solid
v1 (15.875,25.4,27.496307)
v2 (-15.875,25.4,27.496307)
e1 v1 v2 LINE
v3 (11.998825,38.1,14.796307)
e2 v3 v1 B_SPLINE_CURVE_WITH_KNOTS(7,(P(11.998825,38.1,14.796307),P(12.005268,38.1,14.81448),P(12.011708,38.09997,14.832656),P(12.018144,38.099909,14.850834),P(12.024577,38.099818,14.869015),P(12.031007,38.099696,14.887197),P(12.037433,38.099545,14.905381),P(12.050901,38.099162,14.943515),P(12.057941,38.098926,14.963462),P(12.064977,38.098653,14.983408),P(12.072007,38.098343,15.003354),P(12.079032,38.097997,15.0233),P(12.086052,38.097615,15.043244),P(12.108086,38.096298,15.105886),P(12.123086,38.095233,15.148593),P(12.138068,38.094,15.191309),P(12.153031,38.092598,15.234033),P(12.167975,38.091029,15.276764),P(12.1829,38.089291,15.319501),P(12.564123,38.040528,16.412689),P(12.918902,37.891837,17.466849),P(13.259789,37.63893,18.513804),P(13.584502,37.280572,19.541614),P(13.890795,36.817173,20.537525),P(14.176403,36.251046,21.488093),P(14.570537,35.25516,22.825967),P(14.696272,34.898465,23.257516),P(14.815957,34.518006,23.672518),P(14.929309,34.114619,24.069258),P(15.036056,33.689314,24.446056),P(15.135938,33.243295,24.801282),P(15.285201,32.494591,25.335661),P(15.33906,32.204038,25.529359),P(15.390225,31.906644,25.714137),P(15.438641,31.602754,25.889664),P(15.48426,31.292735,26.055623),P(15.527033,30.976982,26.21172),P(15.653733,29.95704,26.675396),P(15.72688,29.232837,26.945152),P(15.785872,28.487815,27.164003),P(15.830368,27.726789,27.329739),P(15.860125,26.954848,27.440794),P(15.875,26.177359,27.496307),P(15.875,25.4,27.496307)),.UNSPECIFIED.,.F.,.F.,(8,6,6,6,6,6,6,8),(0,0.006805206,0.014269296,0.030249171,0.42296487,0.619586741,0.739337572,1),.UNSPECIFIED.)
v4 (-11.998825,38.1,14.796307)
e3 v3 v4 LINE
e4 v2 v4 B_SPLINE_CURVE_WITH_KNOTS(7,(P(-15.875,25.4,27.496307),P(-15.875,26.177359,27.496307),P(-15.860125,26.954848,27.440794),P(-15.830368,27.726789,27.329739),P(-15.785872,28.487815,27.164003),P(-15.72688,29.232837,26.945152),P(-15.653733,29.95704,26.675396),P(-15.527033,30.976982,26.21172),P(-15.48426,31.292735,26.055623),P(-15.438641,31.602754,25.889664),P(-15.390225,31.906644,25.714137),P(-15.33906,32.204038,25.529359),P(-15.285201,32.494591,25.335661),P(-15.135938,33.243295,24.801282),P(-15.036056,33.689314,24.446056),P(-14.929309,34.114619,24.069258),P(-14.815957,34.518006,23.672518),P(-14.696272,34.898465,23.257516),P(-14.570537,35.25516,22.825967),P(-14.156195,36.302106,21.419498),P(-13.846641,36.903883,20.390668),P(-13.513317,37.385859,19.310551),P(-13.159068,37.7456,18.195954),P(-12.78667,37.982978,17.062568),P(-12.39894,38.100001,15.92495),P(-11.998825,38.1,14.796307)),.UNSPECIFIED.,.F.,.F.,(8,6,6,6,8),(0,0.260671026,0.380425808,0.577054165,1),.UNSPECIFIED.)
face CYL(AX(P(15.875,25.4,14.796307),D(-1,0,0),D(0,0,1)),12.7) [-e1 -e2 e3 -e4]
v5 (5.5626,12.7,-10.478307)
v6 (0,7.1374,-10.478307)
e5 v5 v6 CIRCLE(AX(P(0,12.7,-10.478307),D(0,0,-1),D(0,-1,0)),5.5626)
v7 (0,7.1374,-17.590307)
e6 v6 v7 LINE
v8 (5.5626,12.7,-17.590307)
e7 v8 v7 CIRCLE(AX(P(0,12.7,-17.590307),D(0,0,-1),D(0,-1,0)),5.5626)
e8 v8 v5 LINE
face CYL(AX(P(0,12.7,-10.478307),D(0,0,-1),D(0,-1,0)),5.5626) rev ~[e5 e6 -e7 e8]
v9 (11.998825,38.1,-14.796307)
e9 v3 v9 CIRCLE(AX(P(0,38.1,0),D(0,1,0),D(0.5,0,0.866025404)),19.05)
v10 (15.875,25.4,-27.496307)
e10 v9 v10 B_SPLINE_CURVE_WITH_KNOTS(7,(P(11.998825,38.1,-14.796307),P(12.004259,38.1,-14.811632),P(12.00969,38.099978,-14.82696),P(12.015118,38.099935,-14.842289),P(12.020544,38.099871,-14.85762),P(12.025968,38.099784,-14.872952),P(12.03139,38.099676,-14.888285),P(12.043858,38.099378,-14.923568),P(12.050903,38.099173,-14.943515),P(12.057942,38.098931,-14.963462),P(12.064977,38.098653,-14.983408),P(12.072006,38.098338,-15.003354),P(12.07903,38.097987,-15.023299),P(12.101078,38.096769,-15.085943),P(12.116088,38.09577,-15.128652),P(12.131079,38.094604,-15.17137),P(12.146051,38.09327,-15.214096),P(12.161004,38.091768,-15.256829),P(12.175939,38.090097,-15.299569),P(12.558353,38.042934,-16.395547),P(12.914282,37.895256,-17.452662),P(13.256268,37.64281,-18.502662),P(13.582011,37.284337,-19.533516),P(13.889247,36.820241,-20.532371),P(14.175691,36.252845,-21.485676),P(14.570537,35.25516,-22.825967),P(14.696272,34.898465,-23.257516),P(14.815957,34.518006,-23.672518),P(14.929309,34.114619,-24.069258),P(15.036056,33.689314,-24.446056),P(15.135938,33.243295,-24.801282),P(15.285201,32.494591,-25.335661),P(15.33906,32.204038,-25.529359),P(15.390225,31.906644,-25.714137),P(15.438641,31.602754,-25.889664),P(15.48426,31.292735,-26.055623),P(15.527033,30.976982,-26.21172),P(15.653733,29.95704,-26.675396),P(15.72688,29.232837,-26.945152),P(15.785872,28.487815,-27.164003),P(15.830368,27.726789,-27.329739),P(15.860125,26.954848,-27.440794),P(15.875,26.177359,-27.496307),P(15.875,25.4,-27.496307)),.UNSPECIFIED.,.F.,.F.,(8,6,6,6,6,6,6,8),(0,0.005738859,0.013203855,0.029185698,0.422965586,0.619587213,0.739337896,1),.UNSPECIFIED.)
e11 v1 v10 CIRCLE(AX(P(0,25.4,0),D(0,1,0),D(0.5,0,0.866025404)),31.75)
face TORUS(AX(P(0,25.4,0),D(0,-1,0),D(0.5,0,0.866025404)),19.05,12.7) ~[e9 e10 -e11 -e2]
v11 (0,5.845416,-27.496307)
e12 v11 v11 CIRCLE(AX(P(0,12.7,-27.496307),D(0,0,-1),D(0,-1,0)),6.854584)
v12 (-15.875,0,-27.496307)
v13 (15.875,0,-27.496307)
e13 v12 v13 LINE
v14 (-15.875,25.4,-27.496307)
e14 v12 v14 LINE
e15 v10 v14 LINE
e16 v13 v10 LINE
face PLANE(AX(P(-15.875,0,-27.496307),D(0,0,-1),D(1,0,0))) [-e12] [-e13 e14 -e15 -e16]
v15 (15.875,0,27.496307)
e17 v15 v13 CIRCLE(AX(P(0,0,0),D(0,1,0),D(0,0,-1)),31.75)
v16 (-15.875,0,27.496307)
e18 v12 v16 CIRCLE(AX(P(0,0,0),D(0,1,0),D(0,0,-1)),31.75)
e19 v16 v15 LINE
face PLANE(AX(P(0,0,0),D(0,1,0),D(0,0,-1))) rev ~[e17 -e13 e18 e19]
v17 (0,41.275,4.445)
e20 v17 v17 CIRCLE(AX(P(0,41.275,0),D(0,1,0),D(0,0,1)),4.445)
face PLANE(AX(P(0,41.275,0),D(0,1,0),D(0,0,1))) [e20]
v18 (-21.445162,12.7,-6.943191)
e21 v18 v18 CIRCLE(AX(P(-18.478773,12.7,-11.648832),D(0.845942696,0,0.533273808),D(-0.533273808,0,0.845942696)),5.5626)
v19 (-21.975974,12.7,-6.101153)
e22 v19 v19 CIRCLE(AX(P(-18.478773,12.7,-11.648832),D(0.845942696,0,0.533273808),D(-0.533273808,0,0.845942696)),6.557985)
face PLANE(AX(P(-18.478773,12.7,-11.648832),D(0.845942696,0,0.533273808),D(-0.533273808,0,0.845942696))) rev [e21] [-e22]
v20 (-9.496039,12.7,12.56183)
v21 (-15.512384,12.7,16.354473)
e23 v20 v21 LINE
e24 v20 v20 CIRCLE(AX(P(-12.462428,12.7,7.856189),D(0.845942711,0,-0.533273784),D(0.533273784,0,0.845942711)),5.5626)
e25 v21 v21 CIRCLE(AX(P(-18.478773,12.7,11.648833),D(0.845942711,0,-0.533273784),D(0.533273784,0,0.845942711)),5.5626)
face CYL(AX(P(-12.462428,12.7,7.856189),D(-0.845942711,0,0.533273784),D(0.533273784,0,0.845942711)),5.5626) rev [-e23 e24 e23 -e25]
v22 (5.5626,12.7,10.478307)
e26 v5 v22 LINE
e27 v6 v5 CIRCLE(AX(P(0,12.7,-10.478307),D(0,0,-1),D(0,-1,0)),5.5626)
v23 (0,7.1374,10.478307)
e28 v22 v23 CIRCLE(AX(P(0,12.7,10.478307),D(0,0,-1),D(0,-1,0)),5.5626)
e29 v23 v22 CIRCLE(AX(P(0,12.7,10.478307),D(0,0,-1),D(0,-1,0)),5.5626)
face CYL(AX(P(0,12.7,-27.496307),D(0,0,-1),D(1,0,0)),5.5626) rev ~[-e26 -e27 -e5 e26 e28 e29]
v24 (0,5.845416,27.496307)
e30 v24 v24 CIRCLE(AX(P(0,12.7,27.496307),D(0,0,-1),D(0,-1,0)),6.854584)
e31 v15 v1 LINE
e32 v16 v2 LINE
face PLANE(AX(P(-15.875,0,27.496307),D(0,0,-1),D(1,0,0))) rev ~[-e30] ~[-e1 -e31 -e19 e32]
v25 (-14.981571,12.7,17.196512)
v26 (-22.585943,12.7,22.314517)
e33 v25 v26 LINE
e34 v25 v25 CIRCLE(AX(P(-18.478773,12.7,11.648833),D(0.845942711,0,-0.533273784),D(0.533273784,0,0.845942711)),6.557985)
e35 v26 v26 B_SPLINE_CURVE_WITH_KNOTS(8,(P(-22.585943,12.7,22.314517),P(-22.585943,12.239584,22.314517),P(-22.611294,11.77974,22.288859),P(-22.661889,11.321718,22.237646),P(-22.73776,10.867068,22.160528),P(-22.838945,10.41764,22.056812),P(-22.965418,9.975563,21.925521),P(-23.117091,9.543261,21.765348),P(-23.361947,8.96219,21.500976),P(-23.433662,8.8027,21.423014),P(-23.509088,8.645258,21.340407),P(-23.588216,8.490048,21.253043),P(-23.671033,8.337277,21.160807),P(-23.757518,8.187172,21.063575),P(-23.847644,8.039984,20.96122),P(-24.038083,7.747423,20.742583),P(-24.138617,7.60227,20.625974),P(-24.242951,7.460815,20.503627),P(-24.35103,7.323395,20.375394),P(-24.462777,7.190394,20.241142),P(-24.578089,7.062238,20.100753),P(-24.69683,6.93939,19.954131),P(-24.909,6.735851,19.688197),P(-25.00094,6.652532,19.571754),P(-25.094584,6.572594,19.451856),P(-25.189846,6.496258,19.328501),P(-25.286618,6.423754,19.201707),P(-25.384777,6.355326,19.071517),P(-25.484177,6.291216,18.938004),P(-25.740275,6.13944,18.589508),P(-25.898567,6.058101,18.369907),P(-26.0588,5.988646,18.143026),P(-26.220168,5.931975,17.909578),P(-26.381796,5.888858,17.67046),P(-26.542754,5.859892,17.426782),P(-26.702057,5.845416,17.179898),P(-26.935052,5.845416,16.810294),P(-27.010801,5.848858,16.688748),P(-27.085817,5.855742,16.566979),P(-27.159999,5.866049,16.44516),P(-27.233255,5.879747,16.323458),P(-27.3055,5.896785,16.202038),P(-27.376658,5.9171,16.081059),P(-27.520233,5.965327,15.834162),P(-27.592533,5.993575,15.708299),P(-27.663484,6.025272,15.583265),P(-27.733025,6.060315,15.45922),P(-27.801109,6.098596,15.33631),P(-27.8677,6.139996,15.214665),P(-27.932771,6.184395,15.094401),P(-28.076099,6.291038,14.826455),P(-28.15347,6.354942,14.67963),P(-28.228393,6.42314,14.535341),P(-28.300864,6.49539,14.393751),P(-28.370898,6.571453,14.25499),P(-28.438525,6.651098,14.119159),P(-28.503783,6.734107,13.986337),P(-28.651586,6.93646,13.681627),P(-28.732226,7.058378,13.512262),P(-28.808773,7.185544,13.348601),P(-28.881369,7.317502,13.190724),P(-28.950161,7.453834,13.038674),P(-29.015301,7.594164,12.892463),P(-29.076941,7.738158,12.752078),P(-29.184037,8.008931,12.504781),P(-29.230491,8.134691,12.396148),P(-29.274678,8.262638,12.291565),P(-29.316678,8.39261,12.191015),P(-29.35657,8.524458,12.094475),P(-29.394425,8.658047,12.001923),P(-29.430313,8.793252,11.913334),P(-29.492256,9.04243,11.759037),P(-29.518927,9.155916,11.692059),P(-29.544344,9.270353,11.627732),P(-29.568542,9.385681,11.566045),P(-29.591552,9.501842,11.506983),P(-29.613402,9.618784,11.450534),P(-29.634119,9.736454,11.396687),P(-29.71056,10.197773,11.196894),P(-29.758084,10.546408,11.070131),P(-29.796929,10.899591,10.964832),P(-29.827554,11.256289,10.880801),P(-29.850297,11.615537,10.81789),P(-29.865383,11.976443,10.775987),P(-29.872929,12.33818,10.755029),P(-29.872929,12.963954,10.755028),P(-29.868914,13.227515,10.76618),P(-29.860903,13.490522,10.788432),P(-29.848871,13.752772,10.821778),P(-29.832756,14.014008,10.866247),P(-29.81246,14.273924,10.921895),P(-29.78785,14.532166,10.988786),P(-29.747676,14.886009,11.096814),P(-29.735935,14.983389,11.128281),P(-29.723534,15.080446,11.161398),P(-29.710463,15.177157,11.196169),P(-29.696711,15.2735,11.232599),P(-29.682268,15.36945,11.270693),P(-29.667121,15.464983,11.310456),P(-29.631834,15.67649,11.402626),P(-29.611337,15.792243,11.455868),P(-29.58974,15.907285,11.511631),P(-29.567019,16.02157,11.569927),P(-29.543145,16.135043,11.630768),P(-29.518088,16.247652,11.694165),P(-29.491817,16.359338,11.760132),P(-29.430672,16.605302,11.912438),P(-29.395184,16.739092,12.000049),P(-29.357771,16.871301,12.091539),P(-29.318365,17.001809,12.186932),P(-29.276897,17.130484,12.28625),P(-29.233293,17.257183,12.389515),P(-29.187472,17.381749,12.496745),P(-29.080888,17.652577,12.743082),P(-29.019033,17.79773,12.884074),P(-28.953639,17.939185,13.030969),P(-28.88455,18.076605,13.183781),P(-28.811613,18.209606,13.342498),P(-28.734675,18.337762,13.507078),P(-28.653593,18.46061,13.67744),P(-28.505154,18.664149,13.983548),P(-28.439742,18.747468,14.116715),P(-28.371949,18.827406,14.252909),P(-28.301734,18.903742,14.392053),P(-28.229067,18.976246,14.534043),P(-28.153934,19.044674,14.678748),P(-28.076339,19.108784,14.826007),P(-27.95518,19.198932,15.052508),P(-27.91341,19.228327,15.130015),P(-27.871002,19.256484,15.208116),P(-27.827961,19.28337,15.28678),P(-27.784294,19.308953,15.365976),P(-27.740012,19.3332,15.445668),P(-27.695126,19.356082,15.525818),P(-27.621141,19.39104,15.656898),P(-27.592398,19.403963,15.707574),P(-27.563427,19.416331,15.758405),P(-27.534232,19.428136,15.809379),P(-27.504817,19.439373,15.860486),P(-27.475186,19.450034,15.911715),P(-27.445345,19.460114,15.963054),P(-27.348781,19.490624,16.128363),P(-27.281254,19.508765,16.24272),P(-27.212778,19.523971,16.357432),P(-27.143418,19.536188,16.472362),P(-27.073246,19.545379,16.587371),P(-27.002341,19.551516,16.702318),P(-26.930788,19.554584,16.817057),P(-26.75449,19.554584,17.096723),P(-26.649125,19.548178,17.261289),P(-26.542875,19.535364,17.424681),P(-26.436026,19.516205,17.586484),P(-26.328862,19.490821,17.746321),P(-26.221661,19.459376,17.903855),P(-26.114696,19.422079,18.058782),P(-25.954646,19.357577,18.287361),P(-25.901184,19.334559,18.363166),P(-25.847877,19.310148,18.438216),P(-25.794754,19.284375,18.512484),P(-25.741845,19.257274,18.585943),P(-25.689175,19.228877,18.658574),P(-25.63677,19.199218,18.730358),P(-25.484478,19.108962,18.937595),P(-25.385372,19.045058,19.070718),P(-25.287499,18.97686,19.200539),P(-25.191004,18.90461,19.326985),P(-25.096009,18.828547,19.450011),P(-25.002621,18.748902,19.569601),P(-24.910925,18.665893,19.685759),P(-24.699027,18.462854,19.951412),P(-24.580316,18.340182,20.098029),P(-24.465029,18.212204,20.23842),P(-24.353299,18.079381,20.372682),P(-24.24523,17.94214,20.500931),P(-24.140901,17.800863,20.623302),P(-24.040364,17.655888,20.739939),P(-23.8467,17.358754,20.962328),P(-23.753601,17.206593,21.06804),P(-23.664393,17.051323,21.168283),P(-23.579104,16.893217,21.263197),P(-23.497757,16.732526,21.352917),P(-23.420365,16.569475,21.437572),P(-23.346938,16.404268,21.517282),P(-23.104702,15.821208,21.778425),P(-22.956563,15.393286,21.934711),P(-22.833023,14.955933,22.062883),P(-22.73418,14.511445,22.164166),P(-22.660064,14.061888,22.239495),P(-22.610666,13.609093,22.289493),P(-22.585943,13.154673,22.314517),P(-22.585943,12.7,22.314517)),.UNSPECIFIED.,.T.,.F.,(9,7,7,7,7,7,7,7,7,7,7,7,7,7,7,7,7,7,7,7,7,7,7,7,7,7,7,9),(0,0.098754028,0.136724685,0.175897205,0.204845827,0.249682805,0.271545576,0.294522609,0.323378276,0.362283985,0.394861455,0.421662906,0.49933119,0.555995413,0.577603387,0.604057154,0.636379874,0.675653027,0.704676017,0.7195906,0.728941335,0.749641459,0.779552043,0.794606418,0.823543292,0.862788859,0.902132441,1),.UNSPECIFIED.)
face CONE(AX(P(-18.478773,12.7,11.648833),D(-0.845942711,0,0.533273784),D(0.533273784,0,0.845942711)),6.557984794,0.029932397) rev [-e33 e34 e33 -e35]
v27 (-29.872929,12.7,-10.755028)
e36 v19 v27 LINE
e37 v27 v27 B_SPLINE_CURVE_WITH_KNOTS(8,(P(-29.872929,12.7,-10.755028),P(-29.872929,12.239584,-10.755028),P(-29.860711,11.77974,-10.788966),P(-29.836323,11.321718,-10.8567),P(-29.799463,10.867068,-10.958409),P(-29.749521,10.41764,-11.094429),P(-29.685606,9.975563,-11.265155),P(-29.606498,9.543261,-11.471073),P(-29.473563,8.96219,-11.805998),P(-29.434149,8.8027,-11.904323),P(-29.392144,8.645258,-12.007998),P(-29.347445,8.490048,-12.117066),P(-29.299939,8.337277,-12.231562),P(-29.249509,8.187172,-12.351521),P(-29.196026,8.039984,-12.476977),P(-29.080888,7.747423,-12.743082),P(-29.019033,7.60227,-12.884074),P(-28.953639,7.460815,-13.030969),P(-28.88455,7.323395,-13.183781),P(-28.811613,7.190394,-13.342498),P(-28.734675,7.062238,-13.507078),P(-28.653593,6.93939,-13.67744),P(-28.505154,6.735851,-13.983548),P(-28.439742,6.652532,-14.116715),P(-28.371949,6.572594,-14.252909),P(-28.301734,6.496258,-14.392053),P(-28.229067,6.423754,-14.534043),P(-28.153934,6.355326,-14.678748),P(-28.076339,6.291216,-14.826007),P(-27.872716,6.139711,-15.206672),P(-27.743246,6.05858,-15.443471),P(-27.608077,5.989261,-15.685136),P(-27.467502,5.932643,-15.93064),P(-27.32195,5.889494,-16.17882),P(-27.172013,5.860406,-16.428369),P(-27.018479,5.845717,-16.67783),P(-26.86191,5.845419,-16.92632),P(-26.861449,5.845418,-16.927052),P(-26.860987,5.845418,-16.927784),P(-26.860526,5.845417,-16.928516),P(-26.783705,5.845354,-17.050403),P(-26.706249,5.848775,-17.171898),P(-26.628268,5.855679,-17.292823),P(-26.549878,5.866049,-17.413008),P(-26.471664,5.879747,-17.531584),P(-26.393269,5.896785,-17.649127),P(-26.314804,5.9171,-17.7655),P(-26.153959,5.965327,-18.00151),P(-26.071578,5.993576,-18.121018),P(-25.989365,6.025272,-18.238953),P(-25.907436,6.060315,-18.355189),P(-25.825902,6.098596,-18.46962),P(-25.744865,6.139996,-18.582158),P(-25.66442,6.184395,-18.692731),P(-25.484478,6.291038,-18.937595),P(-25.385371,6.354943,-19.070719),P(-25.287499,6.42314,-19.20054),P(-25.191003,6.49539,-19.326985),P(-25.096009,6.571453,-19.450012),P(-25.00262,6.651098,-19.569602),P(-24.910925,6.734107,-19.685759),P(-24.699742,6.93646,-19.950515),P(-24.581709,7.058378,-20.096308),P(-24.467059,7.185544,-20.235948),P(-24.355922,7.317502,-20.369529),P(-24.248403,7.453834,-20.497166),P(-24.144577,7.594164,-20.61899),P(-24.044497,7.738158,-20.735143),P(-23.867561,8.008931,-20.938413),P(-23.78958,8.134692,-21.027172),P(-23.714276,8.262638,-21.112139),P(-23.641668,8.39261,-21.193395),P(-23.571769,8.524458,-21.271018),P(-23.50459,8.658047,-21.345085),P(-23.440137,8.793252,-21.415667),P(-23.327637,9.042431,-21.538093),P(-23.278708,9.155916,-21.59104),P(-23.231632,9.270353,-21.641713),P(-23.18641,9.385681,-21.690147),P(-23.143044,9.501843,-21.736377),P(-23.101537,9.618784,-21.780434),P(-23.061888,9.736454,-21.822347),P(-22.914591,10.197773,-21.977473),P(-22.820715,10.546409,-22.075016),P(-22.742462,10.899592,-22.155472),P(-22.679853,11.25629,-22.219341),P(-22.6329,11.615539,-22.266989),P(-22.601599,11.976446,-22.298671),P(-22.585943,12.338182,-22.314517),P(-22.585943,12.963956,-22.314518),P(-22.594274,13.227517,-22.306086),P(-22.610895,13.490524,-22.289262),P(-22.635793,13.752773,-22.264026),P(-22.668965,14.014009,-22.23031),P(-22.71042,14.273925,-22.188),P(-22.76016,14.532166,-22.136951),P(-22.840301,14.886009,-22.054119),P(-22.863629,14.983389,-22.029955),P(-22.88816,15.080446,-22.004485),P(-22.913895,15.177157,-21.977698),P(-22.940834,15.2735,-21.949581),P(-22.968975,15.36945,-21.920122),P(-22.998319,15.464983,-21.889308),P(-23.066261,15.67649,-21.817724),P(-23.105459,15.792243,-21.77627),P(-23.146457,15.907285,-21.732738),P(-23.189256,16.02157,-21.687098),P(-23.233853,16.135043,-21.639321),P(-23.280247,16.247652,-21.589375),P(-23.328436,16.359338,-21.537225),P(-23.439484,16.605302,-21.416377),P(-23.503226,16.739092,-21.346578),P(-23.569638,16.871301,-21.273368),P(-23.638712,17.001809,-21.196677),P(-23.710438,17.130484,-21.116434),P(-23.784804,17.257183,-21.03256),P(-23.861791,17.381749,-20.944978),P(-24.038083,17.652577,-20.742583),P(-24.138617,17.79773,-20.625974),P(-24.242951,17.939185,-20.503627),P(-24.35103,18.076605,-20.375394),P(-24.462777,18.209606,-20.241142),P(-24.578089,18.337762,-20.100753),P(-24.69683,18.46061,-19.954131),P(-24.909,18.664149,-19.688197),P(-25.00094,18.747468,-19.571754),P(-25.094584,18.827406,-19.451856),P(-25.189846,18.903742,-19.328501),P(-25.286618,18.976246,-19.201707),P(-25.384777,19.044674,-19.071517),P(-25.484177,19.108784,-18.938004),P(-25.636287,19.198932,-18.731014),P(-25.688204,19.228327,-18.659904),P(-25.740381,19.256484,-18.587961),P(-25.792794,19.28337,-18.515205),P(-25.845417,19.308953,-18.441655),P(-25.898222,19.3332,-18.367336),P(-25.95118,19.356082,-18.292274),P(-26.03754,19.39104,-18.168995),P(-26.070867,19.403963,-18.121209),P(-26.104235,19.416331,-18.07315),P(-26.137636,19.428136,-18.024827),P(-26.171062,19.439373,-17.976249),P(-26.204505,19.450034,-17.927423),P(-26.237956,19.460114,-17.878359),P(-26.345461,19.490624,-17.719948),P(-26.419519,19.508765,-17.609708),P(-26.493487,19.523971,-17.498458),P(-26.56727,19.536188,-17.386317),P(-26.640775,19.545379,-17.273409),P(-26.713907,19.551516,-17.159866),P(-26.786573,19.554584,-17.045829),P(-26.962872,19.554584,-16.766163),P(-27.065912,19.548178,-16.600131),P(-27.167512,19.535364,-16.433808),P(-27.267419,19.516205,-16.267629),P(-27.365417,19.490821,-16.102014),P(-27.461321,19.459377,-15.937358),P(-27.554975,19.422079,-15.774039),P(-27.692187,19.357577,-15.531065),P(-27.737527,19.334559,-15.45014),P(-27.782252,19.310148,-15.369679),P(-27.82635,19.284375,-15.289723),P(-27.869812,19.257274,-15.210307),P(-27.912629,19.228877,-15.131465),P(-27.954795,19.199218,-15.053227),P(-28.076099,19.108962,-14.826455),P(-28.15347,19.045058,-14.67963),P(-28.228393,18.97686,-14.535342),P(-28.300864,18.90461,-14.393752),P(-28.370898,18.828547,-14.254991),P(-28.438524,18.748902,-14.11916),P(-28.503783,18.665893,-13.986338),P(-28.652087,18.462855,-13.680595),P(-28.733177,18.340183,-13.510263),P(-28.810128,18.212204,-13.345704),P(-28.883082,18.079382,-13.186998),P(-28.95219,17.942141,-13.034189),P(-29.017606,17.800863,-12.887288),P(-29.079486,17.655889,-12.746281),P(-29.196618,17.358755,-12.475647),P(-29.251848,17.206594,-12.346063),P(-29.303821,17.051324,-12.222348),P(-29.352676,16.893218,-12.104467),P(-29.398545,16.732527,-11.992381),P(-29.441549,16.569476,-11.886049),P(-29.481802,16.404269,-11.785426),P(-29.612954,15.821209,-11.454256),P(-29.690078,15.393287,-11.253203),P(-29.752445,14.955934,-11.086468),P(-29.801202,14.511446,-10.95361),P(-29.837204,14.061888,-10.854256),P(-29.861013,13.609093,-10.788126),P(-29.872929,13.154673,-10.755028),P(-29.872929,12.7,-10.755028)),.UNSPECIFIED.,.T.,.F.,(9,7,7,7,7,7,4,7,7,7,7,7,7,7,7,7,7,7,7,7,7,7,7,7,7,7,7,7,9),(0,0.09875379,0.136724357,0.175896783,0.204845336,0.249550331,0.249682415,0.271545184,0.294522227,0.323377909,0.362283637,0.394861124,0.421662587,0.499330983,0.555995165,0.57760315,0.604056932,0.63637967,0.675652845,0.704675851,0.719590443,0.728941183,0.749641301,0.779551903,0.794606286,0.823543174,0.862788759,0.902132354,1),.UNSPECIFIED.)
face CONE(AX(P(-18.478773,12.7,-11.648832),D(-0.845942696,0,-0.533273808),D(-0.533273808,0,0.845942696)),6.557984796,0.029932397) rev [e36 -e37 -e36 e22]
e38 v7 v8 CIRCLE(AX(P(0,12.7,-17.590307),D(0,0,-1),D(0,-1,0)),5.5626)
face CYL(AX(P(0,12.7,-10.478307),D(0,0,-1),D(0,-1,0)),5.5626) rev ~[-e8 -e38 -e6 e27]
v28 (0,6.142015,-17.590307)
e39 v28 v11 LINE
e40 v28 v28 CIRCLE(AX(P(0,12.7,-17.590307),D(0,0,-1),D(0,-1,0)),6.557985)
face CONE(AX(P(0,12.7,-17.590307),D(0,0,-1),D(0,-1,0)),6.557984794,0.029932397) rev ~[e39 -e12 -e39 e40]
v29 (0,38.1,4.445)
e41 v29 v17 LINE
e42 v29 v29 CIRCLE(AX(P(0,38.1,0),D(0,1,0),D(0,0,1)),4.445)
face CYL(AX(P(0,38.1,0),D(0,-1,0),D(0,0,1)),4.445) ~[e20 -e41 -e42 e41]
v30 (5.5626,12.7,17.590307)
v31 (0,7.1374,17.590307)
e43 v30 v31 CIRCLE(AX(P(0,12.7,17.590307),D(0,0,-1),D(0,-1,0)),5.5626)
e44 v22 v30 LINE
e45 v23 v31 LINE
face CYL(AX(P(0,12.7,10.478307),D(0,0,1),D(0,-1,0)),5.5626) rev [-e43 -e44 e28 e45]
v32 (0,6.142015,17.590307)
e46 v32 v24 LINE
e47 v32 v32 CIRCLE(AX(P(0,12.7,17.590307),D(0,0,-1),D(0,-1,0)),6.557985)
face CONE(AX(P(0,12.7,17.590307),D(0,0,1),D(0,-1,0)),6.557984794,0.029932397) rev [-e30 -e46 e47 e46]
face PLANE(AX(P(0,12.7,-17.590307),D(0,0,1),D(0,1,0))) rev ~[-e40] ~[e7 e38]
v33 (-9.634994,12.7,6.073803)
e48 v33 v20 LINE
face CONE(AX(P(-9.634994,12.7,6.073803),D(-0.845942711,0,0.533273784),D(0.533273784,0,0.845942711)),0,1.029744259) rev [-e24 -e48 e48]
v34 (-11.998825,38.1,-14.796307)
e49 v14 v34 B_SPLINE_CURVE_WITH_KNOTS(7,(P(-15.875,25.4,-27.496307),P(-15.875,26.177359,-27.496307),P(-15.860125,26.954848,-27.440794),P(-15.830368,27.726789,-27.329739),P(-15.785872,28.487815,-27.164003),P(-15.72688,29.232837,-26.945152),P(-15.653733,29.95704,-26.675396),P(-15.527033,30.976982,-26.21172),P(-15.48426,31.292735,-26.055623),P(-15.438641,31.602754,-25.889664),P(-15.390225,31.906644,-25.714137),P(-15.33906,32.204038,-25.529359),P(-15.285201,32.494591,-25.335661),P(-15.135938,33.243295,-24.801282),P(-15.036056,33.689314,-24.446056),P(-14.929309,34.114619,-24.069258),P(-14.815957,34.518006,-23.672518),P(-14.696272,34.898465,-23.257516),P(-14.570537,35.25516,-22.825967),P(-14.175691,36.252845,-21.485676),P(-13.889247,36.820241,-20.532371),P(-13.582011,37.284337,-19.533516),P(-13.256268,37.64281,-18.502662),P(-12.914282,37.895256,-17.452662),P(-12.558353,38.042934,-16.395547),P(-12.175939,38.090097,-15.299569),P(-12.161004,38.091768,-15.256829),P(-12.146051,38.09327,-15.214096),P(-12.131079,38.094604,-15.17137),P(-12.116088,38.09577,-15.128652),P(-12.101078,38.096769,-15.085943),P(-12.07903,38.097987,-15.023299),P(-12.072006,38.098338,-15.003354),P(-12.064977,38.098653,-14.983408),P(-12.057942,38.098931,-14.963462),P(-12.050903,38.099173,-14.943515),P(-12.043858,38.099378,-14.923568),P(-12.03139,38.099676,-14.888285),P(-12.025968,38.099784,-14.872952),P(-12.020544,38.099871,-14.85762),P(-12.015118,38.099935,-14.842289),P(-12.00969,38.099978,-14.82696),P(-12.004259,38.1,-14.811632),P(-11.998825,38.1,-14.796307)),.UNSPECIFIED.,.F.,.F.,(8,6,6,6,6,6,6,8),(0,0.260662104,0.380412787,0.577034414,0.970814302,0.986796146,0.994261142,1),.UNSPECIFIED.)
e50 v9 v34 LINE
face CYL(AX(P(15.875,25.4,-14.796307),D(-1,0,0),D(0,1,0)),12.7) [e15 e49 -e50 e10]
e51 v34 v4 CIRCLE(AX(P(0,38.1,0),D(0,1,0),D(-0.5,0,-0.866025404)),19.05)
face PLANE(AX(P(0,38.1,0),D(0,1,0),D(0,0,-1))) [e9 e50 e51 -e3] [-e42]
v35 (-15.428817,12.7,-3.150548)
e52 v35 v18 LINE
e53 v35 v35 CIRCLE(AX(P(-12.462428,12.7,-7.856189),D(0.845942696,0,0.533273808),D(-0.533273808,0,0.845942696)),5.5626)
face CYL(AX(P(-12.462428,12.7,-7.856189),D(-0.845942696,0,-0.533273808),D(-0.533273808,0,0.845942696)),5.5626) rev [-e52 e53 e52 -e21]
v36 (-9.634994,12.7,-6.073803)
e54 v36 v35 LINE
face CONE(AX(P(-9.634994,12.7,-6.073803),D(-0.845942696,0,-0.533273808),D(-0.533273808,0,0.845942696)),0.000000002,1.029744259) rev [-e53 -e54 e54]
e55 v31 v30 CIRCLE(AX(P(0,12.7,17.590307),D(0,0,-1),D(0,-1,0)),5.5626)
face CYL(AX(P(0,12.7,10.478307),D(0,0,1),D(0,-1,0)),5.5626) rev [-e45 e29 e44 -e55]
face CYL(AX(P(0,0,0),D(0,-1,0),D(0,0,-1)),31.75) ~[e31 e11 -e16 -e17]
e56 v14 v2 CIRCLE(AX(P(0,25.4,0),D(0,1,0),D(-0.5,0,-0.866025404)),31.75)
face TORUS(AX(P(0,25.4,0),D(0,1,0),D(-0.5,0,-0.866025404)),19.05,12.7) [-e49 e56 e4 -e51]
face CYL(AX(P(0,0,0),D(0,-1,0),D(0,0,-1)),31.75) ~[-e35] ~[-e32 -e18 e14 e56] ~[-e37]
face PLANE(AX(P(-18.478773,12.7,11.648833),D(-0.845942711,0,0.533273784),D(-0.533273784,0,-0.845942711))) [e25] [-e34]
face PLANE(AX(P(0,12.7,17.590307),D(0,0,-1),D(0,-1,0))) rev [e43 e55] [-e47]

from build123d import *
from build123d.topology import SkipClean

# Parameters (mm, degrees)
SKETCH1_R           = 31.75
BOSS_EXTRUDE1_DEPTH = 38.1
CUT_EXTRUDE1_DEPTH  = 59.887477446
FILLET1_R           = 12.7
SKETCH7_R           = 5.5626
CUT_EXTRUDE2_DEPTH  = 75.053089233
SKETCH8_R           = 4.445
BOSS_EXTRUDE2_DEPTH = 3.175


with BuildPart() as part:
    # Sketch1 → Boss-Extrude1 (new body)
    with BuildSketch(Plane(origin=(0, 0, 0), x_dir=(1, 0, 0), z_dir=(0, 1, 0))):
        with Locations(Location((0, 0, 0), (0, 0, 90))):
            Circle(SKETCH1_R)
    extrude(amount=BOSS_EXTRUDE1_DEPTH)

    # Sketch2 → Cut-Extrude1 (cut, through all)
    with BuildSketch(Plane.XZ):
        with BuildLine():
            Line((-15.875, 27.49630657), (15.875, 27.49630657))
            ThreePointArc((15.875, 27.49630657), (0, 31.75), (-15.875, 27.49630657))
        make_face()
        with BuildLine():
            Line((-15.875, -27.49630657), (15.875, -27.49630657))
            ThreePointArc((15.875, -27.49630657), (0, -31.75), (-15.875, -27.49630657))
        make_face()
    extrude(amount=-CUT_EXTRUDE1_DEPTH, mode=Mode.SUBTRACT)

    # Fillet1
    fillet1_edges = [part.edges().sort_by_distance(p)[0] for p in [
        (-31.75, 38.1, 0),
        (0, 38.1, -27.49630657),
        (31.75, 38.1, 0),
        (0, 38.1, 27.49630657),
    ]]
    fillet(fillet1_edges, radius=FILLET1_R)

    # Sketch4 → 1/4 NPT Tapped Hole1 (revolve, cut)
    with BuildSketch(Plane(origin=(0, 12.7, 27.49630657), x_dir=(0, -1, 0), z_dir=(1, 0, 0))):
        Polygon((0, 0), (0, 20.360347279), (5.5626, 17.018), (5.5626, 9.906), (6.557984794, 9.906), (6.8545837, 0), align=None)
    f_1_4_npt_tapped_hole1 = revolve(axis=Axis((0, 12.7, 33.84630657), (0, 0, -1)), mode=Mode.SUBTRACT)

    # Mirror1: 1/4 NPT Tapped Hole1 across plane
    add(f_1_4_npt_tapped_hole1.mirror(Plane.XY), mode=Mode.SUBTRACT)

    # Sketch6 → 1/4 NPT Tapped Hole2 (revolve, cut)
    with BuildSketch(Plane(origin=(-26.85868109, 12.7, 16.931442647), x_dir=(0.5332737841578493, 0, 0.8459427114940868), z_dir=(0, 1, 0))):
        Polygon((0, 0), (0, 20.360347279), (5.5626, 17.018), (5.5626, 9.906), (6.557984794, 9.906), (6.8545837, 0), align=None)
    revolve(axis=Axis((-32.230417308, 12.7, 20.317731176), (0.8459427114940866, 0, -0.5332737841578492)), mode=Mode.SUBTRACT)

    # Sketch6 at point 2 (carried to point 2, square into its face) → 1/4 NPT Tapped Hole2 at 2 (revolve, cut)
    with BuildSketch(Plane(origin=(-26.85868109, 12.7, -16.931442647), x_dir=(-0.533273808, 0, 0.845942696), z_dir=(0, 1, 0))):
        Polygon((0, 0), (0, 20.360347279), (5.5626, 17.018), (5.5626, 9.906), (6.557984794, 9.906), (6.8545837, 0), align=None)
    revolve(axis=Axis((-32.230417211, 12.7, -20.317731331), (0.845942696, 0, 0.533273808)), mode=Mode.SUBTRACT)

    # Sketch7 → Cut-Extrude2 (cut, through all)
    with SkipClean():  # the faces are left unmerged after this step: merging them gives an invalid solid
        with BuildSketch(Plane(origin=(0, 0, -27.49630657), x_dir=(-1, 0, 0), z_dir=(0, 0, -1))):
            with Locations(Location((0, 12.7, 0), (0, 0, 180))):
                Circle(SKETCH7_R)
        extrude(amount=-CUT_EXTRUDE2_DEPTH, mode=Mode.SUBTRACT)

    # Sketch8 → Boss-Extrude2 (add)
    with SkipClean():  # the faces are left unmerged after this step: merging them gives an invalid solid
        with BuildSketch(Plane(origin=(0, 38.1, 0), x_dir=(1, 0, 0), z_dir=(0, 1, 0))):
            with Locations(Location((0, 0, 0), (0, 0, 270))):
                Circle(SKETCH8_R)
        extrude(amount=BOSS_EXTRUDE2_DEPTH)


solid = part.part
